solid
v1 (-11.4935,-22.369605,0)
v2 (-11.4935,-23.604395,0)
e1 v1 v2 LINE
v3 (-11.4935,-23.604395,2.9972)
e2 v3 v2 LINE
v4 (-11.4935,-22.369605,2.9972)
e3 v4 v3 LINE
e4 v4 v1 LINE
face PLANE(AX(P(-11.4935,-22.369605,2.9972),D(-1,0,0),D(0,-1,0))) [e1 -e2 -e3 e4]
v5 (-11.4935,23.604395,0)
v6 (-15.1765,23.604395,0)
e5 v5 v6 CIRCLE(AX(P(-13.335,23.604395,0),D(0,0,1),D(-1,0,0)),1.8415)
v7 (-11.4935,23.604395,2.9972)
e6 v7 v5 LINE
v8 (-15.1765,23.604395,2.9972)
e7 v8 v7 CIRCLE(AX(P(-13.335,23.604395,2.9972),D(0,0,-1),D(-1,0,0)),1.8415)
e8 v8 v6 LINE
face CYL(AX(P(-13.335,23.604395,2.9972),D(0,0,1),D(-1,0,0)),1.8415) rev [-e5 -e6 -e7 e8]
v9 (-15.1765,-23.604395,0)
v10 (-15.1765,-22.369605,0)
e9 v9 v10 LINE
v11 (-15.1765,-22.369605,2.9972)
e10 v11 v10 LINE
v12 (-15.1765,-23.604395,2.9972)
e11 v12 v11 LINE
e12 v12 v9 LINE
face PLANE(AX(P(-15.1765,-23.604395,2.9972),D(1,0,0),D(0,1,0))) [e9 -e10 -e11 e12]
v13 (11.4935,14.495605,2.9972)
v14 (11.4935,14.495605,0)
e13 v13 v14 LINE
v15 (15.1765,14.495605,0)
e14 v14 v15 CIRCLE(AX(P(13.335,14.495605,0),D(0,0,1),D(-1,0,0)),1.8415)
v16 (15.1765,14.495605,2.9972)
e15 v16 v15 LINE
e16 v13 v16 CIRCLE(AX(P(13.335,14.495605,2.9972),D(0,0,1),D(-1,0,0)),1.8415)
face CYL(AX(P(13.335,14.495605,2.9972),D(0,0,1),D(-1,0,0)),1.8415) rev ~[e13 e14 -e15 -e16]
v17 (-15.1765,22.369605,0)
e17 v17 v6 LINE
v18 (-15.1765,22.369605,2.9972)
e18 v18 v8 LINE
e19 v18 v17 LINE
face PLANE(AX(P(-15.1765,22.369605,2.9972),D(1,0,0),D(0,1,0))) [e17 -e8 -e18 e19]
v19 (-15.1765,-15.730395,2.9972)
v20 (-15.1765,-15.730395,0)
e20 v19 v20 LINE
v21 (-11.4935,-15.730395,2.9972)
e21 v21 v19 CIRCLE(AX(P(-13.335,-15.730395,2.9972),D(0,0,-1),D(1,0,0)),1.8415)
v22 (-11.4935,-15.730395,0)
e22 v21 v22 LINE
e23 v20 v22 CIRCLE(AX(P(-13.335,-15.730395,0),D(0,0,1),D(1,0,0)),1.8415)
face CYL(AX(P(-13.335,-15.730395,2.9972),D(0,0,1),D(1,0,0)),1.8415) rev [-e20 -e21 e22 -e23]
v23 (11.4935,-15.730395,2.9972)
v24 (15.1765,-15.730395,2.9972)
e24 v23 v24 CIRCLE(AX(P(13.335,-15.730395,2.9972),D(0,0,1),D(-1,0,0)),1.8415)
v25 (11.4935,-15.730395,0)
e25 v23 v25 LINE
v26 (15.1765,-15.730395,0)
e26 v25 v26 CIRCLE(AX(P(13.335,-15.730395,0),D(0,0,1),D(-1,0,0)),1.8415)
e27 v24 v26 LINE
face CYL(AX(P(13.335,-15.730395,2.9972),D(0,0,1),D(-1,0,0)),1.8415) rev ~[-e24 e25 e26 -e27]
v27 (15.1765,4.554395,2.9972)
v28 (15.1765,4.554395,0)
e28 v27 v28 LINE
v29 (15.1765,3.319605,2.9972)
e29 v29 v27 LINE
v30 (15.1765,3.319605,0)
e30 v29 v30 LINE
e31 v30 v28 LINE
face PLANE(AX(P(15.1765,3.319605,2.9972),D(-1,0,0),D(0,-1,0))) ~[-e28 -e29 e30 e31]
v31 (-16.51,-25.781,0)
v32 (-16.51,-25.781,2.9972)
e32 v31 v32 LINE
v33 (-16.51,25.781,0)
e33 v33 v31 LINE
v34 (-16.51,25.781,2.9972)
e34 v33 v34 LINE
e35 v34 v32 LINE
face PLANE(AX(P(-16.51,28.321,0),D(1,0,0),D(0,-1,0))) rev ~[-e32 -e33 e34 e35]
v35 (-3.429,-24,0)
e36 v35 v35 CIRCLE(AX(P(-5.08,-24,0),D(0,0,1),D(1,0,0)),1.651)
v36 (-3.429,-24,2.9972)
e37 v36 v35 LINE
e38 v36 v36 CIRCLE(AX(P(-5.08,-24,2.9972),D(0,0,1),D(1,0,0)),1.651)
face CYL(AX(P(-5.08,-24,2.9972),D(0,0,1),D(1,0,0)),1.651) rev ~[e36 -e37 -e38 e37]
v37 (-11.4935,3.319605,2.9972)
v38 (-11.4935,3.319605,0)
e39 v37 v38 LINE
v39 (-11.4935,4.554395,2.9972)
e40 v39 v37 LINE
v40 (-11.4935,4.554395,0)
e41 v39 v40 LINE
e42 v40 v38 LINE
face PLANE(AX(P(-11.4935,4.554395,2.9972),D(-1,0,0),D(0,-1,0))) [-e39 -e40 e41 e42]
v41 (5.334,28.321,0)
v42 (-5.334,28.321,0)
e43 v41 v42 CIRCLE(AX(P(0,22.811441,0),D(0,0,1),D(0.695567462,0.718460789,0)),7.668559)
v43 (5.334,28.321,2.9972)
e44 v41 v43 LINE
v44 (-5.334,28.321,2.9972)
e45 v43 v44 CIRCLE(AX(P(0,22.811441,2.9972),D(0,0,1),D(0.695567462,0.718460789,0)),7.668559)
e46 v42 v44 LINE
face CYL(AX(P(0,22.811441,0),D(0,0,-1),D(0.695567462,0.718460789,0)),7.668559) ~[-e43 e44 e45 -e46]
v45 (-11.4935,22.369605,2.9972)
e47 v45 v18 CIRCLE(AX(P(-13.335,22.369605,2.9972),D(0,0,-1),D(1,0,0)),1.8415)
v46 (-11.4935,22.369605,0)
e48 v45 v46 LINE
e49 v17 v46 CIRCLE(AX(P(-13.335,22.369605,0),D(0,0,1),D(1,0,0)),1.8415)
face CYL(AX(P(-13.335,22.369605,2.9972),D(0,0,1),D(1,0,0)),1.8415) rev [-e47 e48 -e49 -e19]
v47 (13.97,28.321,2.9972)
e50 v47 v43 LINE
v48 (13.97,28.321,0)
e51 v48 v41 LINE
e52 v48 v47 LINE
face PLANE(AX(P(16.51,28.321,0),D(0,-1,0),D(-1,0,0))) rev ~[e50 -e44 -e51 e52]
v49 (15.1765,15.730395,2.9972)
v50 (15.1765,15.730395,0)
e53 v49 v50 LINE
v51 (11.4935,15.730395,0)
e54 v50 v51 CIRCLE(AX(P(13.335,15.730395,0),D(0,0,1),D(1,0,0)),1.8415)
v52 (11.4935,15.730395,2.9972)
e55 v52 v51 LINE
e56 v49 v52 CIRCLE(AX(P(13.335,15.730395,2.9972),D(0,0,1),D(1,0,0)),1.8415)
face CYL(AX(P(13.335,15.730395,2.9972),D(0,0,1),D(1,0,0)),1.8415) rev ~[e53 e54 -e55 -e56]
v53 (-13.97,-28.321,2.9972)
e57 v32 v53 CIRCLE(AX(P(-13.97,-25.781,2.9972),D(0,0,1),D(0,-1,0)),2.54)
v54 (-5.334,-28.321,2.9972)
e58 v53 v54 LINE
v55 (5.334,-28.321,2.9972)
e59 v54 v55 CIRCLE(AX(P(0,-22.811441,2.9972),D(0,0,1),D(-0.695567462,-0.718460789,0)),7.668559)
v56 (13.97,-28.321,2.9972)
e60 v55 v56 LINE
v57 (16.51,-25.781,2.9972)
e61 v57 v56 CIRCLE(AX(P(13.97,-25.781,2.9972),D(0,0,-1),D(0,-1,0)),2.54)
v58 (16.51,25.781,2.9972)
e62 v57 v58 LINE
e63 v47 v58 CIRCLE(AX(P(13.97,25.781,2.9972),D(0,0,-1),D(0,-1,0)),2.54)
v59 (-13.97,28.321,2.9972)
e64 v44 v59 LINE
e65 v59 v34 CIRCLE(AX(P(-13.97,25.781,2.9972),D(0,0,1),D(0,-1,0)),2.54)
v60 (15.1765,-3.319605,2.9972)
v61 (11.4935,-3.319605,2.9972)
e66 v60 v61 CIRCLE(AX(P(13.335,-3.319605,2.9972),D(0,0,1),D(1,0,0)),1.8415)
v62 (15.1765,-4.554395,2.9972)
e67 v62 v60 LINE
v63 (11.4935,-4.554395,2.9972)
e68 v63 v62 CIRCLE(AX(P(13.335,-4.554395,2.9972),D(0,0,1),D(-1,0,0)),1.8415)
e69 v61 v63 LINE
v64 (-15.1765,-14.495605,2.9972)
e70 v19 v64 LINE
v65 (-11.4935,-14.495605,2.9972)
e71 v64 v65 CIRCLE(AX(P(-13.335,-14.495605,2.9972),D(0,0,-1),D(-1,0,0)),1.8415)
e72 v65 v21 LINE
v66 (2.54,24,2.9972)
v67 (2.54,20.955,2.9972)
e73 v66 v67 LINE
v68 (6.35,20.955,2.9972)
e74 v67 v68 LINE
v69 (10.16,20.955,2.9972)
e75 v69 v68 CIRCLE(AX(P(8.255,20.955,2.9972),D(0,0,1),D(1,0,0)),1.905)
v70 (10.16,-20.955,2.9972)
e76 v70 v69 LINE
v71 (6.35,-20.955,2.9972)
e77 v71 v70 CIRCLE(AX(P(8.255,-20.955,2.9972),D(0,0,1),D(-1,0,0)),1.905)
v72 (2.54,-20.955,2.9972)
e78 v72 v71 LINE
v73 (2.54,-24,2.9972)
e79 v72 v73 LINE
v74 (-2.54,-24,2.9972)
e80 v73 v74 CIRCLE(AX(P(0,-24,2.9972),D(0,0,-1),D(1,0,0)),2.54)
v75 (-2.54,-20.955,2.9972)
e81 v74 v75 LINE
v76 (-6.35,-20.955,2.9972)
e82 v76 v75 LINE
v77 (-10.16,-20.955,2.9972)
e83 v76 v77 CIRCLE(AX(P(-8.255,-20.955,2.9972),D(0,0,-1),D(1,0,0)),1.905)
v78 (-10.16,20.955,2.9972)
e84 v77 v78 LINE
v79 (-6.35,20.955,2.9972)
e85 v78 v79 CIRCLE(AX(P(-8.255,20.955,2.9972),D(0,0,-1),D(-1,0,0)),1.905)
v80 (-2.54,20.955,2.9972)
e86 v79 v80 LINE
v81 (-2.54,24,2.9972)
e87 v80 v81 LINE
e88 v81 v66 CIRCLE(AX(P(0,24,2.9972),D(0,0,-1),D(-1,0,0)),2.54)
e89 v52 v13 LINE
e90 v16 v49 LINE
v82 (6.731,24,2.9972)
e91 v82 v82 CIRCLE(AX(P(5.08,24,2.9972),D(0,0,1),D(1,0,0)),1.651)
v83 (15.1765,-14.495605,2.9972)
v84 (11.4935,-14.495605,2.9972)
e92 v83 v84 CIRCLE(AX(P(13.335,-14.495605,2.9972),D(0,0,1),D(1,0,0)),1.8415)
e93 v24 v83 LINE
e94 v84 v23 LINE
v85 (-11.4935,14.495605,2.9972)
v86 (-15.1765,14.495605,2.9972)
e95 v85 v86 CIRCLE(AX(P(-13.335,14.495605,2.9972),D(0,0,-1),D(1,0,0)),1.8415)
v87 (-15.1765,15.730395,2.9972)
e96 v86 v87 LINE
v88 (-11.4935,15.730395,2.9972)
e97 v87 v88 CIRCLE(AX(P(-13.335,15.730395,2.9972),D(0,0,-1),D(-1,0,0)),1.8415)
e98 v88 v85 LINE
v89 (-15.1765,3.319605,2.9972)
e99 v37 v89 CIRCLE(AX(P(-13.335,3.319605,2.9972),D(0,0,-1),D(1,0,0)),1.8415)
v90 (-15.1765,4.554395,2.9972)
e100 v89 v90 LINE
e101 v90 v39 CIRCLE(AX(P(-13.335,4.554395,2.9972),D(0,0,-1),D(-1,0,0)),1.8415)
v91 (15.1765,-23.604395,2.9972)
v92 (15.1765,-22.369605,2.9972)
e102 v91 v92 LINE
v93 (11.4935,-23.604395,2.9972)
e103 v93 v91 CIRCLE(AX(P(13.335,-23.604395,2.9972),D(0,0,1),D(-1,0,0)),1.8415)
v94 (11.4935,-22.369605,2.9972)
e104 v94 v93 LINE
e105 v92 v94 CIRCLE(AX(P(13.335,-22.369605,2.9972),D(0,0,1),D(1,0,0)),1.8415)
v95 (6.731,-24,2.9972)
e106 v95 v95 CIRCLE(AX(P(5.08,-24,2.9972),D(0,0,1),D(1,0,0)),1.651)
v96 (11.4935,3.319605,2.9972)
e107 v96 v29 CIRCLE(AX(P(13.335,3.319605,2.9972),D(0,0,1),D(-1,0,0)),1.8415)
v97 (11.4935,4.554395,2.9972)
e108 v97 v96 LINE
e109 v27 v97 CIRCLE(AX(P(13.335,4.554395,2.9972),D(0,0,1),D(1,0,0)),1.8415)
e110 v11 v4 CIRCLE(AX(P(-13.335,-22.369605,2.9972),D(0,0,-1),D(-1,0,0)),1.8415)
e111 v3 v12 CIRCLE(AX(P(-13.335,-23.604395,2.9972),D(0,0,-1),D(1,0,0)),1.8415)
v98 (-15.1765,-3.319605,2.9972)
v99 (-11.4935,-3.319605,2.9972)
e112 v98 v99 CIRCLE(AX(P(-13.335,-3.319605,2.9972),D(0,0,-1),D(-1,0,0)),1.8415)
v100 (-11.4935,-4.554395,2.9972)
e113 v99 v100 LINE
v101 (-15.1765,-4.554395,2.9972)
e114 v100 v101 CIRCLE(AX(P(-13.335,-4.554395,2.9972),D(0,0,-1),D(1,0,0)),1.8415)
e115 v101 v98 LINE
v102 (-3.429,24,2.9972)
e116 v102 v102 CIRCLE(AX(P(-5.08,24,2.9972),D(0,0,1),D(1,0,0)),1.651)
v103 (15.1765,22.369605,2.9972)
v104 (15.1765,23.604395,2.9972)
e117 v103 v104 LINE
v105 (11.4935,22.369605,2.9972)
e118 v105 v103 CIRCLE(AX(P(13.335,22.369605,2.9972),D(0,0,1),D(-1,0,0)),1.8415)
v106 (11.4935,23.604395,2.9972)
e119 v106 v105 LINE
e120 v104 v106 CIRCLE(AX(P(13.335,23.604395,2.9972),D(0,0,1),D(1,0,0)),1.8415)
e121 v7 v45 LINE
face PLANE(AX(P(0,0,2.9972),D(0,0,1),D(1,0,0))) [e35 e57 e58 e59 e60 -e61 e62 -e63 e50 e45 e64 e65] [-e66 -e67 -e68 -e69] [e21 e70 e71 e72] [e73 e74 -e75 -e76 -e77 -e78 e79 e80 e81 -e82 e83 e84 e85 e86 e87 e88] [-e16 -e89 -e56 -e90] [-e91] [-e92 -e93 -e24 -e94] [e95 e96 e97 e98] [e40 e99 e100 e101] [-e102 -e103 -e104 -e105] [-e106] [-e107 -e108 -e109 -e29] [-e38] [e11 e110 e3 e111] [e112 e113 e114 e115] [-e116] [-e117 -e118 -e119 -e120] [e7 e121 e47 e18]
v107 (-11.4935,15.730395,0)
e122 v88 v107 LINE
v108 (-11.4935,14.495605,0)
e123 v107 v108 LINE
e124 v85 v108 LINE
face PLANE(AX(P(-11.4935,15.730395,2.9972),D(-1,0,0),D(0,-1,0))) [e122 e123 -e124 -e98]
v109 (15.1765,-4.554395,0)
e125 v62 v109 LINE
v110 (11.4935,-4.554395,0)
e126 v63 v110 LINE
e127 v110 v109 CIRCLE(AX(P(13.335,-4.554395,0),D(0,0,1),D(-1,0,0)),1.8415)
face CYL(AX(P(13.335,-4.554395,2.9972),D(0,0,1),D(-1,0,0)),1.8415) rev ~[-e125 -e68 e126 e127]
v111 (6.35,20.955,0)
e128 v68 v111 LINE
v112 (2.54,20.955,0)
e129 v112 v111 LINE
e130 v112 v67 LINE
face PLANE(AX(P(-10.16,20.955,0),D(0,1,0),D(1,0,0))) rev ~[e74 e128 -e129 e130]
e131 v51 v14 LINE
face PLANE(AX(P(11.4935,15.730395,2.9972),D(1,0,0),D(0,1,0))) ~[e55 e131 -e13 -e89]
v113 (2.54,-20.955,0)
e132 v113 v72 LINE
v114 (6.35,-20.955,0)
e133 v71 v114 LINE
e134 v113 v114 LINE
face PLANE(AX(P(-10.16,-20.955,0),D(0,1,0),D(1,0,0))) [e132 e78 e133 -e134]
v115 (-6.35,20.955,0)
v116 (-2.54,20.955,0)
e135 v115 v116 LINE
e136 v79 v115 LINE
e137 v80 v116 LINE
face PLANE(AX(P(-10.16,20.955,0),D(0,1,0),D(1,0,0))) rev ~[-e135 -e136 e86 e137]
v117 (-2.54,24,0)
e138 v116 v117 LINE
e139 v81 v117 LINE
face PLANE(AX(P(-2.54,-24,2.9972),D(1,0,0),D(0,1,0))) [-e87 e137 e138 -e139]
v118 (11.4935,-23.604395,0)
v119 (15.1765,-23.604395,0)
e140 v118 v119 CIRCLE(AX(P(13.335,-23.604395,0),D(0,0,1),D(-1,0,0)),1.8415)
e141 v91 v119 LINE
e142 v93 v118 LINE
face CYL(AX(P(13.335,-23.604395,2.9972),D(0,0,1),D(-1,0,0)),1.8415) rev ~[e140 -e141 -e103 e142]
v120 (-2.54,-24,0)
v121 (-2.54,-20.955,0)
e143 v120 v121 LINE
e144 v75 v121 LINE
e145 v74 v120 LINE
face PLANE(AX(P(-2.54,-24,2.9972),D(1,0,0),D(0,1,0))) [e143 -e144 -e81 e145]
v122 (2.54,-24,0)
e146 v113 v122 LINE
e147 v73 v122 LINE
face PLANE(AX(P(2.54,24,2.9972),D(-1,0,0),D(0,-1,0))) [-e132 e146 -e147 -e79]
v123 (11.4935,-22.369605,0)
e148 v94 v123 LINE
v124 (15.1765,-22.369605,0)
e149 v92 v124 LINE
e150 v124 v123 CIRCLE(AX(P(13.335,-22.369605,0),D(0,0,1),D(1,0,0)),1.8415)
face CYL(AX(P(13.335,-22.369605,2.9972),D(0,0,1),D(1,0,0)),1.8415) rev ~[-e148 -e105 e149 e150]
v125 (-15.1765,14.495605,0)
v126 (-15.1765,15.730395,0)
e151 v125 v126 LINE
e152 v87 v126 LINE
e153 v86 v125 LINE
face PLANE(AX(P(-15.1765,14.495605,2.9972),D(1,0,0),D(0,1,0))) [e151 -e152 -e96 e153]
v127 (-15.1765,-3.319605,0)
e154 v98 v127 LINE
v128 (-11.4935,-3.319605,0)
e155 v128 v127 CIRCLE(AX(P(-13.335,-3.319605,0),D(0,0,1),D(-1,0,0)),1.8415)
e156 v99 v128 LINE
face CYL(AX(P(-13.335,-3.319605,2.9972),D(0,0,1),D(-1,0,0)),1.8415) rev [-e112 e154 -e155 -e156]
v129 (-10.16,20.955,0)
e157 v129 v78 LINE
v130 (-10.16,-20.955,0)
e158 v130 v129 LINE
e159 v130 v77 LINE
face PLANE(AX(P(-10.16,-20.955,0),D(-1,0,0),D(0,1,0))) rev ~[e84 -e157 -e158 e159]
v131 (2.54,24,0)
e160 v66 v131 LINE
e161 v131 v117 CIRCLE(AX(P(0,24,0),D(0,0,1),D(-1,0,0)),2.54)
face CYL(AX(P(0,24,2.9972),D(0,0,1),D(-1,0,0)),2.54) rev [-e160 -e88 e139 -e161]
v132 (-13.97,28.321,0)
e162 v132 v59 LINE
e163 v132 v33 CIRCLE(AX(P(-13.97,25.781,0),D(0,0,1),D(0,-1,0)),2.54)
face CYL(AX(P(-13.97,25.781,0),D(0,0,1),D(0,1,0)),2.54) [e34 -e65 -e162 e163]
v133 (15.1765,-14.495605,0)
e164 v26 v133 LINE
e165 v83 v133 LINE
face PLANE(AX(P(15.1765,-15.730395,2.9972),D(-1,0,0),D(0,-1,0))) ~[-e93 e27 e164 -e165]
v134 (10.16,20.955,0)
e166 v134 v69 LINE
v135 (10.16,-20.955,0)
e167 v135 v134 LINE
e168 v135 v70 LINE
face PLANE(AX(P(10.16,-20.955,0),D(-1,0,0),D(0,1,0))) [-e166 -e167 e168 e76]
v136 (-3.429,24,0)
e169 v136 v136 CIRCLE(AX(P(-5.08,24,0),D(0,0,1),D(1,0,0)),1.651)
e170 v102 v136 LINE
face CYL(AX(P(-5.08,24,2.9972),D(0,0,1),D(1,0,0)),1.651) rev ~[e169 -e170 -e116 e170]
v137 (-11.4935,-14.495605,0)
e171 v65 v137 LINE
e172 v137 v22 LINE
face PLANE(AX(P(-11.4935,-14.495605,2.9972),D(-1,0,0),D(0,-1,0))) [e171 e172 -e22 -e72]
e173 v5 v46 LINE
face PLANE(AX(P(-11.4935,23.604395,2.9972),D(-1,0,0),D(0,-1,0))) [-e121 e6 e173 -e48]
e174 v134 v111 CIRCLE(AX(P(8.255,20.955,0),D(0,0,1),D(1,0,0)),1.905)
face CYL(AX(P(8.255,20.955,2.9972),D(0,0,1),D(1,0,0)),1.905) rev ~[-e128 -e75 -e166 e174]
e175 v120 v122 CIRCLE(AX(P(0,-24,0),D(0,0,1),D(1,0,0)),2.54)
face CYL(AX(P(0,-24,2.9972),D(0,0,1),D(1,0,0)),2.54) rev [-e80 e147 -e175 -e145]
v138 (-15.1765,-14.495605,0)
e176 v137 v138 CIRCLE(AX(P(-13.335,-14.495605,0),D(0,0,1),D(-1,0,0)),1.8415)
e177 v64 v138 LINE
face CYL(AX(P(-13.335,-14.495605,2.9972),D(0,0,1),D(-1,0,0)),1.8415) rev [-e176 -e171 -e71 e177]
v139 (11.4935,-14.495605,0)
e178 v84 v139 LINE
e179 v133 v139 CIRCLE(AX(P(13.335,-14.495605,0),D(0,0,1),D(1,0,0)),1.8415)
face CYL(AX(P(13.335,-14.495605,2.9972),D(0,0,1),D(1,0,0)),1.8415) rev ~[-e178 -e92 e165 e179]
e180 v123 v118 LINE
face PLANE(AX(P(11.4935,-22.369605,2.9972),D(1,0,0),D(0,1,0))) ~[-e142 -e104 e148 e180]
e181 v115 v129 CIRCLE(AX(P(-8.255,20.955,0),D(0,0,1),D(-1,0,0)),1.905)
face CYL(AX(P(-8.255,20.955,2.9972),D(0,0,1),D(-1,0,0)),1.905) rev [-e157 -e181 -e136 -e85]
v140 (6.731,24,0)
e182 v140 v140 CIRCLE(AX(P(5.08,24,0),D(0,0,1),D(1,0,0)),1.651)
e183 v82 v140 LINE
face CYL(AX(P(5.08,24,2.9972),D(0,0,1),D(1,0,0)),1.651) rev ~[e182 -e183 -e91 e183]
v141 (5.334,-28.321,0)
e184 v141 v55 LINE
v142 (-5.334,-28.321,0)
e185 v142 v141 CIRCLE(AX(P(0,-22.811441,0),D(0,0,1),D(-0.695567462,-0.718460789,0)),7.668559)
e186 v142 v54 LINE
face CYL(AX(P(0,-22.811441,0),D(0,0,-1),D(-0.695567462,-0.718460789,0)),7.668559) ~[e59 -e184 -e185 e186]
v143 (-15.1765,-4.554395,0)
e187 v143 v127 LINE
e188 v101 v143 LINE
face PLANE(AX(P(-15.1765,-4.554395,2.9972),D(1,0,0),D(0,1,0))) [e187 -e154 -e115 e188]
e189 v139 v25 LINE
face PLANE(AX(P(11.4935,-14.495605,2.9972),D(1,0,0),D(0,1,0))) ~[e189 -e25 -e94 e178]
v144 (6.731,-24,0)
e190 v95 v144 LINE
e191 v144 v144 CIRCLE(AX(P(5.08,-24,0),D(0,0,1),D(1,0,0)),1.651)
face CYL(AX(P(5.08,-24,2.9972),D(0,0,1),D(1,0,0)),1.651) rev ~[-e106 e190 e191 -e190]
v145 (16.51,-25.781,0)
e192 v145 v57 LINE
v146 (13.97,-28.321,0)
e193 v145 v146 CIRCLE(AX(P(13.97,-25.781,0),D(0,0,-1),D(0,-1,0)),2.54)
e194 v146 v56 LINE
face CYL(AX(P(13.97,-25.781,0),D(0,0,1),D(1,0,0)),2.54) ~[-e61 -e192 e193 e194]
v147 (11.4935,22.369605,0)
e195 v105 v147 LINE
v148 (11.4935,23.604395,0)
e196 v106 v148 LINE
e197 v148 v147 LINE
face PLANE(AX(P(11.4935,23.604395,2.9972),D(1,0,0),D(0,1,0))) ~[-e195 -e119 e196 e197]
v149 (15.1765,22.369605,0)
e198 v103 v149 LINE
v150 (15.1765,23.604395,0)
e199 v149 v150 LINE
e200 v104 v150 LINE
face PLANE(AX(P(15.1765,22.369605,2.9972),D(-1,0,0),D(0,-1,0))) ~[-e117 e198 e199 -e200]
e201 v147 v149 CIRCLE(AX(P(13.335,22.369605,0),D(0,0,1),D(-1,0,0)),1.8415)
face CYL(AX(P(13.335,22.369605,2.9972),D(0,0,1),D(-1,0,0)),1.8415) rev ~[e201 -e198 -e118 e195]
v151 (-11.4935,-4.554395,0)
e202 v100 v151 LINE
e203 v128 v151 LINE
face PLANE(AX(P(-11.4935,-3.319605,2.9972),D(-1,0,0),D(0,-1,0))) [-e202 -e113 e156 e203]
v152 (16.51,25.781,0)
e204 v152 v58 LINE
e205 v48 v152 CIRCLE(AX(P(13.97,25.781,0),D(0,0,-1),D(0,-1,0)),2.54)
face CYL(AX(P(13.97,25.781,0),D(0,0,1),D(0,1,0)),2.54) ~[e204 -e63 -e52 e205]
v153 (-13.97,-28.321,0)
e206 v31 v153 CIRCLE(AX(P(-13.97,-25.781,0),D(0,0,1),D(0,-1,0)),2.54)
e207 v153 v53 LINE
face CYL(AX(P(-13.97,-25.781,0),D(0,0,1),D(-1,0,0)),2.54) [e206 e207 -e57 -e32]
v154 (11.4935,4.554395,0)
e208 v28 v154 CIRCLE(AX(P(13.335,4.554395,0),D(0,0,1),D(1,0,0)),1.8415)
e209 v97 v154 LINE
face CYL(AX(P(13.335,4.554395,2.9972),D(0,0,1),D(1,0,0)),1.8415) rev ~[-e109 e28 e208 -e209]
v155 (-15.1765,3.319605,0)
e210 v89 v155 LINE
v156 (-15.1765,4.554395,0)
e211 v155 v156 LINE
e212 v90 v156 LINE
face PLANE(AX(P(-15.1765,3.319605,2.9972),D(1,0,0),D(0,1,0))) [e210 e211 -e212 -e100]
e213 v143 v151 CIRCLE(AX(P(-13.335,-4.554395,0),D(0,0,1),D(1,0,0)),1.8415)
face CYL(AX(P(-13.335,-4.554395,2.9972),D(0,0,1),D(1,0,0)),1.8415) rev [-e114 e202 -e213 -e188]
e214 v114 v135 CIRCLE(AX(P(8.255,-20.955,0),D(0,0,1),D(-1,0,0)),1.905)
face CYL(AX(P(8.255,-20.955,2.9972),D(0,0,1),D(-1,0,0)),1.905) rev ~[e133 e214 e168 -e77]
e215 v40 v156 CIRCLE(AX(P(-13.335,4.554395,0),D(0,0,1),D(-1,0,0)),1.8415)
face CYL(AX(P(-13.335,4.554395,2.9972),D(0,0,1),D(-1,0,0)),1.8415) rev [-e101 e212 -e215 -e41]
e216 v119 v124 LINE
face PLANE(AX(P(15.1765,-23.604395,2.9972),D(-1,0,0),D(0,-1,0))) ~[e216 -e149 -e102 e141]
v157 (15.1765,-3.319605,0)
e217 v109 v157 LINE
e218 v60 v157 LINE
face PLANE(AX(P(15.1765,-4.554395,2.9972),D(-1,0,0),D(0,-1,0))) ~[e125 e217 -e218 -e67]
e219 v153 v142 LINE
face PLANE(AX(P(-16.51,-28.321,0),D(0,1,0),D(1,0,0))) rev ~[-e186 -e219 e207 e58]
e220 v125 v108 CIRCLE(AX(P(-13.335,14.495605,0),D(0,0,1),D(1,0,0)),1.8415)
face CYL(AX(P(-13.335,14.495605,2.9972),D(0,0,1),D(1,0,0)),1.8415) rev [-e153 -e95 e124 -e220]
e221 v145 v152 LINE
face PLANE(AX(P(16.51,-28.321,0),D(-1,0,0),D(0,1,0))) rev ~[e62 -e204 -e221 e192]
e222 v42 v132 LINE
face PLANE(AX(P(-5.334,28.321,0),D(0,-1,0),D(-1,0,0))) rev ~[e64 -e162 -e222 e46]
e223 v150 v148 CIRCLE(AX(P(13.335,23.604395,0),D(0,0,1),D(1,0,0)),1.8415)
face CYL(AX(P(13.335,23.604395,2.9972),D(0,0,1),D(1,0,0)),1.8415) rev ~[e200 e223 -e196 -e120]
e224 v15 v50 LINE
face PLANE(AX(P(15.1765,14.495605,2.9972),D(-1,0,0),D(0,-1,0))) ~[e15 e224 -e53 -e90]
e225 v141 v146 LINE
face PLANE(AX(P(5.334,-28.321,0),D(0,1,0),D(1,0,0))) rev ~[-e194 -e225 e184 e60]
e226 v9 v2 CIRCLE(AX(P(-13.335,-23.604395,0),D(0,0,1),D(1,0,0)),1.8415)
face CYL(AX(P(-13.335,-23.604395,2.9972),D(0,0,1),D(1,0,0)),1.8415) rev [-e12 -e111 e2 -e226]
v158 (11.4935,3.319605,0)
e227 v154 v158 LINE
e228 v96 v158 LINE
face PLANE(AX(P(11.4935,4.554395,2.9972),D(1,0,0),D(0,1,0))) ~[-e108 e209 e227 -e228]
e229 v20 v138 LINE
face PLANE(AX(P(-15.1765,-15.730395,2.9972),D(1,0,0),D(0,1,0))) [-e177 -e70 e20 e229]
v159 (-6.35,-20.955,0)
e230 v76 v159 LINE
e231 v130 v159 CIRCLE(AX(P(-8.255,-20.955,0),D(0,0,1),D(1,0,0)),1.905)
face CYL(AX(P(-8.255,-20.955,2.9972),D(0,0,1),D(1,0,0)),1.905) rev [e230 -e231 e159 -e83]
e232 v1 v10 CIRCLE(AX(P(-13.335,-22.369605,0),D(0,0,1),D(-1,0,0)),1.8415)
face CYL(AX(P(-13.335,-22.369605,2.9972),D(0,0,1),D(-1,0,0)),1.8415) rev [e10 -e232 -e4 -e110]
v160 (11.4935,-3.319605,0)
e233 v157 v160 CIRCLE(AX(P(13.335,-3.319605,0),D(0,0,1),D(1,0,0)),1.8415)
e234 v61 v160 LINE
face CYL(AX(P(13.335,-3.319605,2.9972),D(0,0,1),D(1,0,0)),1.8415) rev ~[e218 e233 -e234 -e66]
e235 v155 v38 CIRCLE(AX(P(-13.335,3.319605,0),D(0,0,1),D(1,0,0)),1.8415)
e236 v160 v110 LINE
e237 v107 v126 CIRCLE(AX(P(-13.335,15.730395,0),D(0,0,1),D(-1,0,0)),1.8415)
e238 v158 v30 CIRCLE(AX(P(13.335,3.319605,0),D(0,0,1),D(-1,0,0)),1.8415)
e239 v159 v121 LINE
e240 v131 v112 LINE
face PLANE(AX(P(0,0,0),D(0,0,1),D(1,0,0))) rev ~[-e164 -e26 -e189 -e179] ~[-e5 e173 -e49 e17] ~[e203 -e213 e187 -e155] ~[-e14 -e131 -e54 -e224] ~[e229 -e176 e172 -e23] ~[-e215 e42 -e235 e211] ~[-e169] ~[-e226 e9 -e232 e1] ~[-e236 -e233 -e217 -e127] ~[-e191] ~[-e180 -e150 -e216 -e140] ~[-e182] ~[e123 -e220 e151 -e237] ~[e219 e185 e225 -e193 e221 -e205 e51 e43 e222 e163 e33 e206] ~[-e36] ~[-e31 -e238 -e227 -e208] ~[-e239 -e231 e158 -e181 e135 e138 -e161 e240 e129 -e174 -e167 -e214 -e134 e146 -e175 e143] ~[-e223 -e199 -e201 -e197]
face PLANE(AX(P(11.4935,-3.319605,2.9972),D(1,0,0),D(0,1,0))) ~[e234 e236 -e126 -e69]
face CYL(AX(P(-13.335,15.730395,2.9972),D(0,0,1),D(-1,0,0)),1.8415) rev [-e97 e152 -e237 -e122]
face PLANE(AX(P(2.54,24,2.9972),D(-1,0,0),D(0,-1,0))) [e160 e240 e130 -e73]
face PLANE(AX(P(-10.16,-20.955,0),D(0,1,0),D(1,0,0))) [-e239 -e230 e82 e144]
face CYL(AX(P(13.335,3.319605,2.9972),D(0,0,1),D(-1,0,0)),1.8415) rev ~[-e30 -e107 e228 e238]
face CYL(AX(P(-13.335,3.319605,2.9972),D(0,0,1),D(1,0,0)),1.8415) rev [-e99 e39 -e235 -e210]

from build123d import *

# Parameters (mm, degrees)
SKETCH1_W           = 20.32
SKETCH1_H           = 41.91
BOSS_EXTRUDE1_DEPTH = 2.9972
SKETCH2_R           = 1.651
CUT_EXTRUDE1_DEPTH  = 35.793587165
CUT_EXTRUDE2_DEPTH  = 35.793587165
FILLET1_R           = 2.54


with BuildPart() as part:
    # Sketch1 → Boss-Extrude1 (new body)
    with BuildSketch(Plane.XY):
        with BuildLine():
            Line((16.51, 28.321), (5.334, 28.321))
            ThreePointArc((5.334, 28.321), (0, 30.48), (-5.334, 28.321))
            Line((-5.334, 28.321), (-16.51, 28.321))
            Line((-16.51, 28.321), (-16.51, -28.321))
            Line((-16.51, -28.321), (-5.334, -28.321))
            ThreePointArc((-5.334, -28.321), (0, -30.48), (5.334, -28.321))
            Line((5.334, -28.321), (16.51, -28.321))
            Line((16.51, -28.321), (16.51, 28.321))
        make_face()
        Rectangle(SKETCH1_W, SKETCH1_H, mode=Mode.SUBTRACT)
    extrude(amount=BOSS_EXTRUDE1_DEPTH)

    # Sketch2 → Cut-Extrude1 (cut, through all)
    with BuildSketch(Plane.XY.offset(2.9972)):
        with Locations((-5.08, 24)):
            Circle(SKETCH2_R)
        with Locations((5.08, 24)):
            Circle(SKETCH2_R)
        with Locations((5.08, -24)):
            Circle(SKETCH2_R)
        with Locations((-5.08, -24)):
            Circle(SKETCH2_R)
        with BuildLine():
            Line((-6.35, 20.955), (-6.35, -20.955))
            ThreePointArc((-6.35, -20.955), (-8.255, -22.86), (-10.16, -20.955))
            Line((-10.16, -20.955), (-10.16, 20.955))
            ThreePointArc((-10.16, 20.955), (-8.255, 22.86), (-6.35, 20.955))
        make_face()
        with BuildLine():
            Line((6.35, 20.955), (6.35, -20.955))
            ThreePointArc((6.35, -20.955), (8.255, -22.86), (10.16, -20.955))
            Line((10.16, -20.955), (10.16, 20.955))
            ThreePointArc((10.16, 20.955), (8.255, 22.86), (6.35, 20.955))
        make_face()
        with BuildLine():
            Line((-2.54, -24), (-2.54, 24))
            ThreePointArc((-2.54, 24), (0, 26.54), (2.54, 24))
            Line((2.54, 24), (2.54, -24))
            ThreePointArc((2.54, -24), (0, -26.54), (-2.54, -24))
        make_face()
    extrude(amount=-CUT_EXTRUDE1_DEPTH, mode=Mode.SUBTRACT)

    # Sketch3 → Cut-Extrude2 (cut, through all)
    with BuildSketch(Plane.XY.offset(2.9972)):
        with BuildLine():
            Line((-11.4935, 23.604394695), (-11.4935, 22.369605305))
            ThreePointArc((-11.4935, 22.369605305), (-13.335, 20.528105305), (-15.1765, 22.369605305))
            Line((-15.1765, 22.369605305), (-15.1765, 23.604394695))
            ThreePointArc((-15.1765, 23.604394695), (-13.335, 25.445894695), (-11.4935, 23.604394695))
        make_face()
        with BuildLine():
            Line((-11.4935, 15.730394695), (-11.4935, 14.495605305))
            ThreePointArc((-11.4935, 14.495605305), (-13.335, 12.654105305), (-15.1765, 14.495605305))
            Line((-15.1765, 14.495605305), (-15.1765, 15.730394695))
            ThreePointArc((-15.1765, 15.730394695), (-13.335, 17.571894695), (-11.4935, 15.730394695))
        make_face()
        with BuildLine():
            Line((-11.4935, 4.554394695), (-11.4935, 3.319605305))
            ThreePointArc((-11.4935, 3.319605305), (-13.335, 1.478105305), (-15.1765, 3.319605305))
            Line((-15.1765, 3.319605305), (-15.1765, 4.554394695))
            ThreePointArc((-15.1765, 4.554394695), (-13.335, 6.395894695), (-11.4935, 4.554394695))
        make_face()
        with BuildLine():
            Line((-11.4935, -3.319605305), (-11.4935, -4.554394695))
            ThreePointArc((-11.4935, -4.554394695), (-13.335, -6.395894695), (-15.1765, -4.554394695))
            Line((-15.1765, -4.554394695), (-15.1765, -3.319605305))
            ThreePointArc((-15.1765, -3.319605305), (-13.335, -1.478105305), (-11.4935, -3.319605305))
        make_face()
        with BuildLine():
            Line((-11.4935, -14.495605305), (-11.4935, -15.730394695))
            ThreePointArc((-11.4935, -15.730394695), (-13.335, -17.571894695), (-15.1765, -15.730394695))
            Line((-15.1765, -15.730394695), (-15.1765, -14.495605305))
            ThreePointArc((-15.1765, -14.495605305), (-13.335, -12.654105305), (-11.4935, -14.495605305))
        make_face()
        with BuildLine():
            Line((-11.4935, -22.369605305), (-11.4935, -23.604394695))
            ThreePointArc((-11.4935, -23.604394695), (-13.335, -25.445894695), (-15.1765, -23.604394695))
            Line((-15.1765, -23.604394695), (-15.1765, -22.369605305))
            ThreePointArc((-15.1765, -22.369605305), (-13.335, -20.528105305), (-11.4935, -22.369605305))
        make_face()
    cut_extrude2 = extrude(amount=-CUT_EXTRUDE2_DEPTH, mode=Mode.SUBTRACT)

    # Mirror1: Cut-Extrude2 across plane
    add(cut_extrude2.mirror(Plane(origin=(0, 0, 0), x_dir=(0, 0, 1), z_dir=(1, 0, 0))), mode=Mode.SUBTRACT)

    # Fillet1
    fillet1_edges = [part.edges().sort_by_distance(p)[0] for p in [
        (-16.51, -28.321, 1.4986),
        (-16.51, 28.321, 1.4986),
        (16.51, 28.321, 1.4986),
        (16.51, -28.321, 1.4986),
    ]]
    fillet(fillet1_edges, radius=FILLET1_R)


solid = part.part
